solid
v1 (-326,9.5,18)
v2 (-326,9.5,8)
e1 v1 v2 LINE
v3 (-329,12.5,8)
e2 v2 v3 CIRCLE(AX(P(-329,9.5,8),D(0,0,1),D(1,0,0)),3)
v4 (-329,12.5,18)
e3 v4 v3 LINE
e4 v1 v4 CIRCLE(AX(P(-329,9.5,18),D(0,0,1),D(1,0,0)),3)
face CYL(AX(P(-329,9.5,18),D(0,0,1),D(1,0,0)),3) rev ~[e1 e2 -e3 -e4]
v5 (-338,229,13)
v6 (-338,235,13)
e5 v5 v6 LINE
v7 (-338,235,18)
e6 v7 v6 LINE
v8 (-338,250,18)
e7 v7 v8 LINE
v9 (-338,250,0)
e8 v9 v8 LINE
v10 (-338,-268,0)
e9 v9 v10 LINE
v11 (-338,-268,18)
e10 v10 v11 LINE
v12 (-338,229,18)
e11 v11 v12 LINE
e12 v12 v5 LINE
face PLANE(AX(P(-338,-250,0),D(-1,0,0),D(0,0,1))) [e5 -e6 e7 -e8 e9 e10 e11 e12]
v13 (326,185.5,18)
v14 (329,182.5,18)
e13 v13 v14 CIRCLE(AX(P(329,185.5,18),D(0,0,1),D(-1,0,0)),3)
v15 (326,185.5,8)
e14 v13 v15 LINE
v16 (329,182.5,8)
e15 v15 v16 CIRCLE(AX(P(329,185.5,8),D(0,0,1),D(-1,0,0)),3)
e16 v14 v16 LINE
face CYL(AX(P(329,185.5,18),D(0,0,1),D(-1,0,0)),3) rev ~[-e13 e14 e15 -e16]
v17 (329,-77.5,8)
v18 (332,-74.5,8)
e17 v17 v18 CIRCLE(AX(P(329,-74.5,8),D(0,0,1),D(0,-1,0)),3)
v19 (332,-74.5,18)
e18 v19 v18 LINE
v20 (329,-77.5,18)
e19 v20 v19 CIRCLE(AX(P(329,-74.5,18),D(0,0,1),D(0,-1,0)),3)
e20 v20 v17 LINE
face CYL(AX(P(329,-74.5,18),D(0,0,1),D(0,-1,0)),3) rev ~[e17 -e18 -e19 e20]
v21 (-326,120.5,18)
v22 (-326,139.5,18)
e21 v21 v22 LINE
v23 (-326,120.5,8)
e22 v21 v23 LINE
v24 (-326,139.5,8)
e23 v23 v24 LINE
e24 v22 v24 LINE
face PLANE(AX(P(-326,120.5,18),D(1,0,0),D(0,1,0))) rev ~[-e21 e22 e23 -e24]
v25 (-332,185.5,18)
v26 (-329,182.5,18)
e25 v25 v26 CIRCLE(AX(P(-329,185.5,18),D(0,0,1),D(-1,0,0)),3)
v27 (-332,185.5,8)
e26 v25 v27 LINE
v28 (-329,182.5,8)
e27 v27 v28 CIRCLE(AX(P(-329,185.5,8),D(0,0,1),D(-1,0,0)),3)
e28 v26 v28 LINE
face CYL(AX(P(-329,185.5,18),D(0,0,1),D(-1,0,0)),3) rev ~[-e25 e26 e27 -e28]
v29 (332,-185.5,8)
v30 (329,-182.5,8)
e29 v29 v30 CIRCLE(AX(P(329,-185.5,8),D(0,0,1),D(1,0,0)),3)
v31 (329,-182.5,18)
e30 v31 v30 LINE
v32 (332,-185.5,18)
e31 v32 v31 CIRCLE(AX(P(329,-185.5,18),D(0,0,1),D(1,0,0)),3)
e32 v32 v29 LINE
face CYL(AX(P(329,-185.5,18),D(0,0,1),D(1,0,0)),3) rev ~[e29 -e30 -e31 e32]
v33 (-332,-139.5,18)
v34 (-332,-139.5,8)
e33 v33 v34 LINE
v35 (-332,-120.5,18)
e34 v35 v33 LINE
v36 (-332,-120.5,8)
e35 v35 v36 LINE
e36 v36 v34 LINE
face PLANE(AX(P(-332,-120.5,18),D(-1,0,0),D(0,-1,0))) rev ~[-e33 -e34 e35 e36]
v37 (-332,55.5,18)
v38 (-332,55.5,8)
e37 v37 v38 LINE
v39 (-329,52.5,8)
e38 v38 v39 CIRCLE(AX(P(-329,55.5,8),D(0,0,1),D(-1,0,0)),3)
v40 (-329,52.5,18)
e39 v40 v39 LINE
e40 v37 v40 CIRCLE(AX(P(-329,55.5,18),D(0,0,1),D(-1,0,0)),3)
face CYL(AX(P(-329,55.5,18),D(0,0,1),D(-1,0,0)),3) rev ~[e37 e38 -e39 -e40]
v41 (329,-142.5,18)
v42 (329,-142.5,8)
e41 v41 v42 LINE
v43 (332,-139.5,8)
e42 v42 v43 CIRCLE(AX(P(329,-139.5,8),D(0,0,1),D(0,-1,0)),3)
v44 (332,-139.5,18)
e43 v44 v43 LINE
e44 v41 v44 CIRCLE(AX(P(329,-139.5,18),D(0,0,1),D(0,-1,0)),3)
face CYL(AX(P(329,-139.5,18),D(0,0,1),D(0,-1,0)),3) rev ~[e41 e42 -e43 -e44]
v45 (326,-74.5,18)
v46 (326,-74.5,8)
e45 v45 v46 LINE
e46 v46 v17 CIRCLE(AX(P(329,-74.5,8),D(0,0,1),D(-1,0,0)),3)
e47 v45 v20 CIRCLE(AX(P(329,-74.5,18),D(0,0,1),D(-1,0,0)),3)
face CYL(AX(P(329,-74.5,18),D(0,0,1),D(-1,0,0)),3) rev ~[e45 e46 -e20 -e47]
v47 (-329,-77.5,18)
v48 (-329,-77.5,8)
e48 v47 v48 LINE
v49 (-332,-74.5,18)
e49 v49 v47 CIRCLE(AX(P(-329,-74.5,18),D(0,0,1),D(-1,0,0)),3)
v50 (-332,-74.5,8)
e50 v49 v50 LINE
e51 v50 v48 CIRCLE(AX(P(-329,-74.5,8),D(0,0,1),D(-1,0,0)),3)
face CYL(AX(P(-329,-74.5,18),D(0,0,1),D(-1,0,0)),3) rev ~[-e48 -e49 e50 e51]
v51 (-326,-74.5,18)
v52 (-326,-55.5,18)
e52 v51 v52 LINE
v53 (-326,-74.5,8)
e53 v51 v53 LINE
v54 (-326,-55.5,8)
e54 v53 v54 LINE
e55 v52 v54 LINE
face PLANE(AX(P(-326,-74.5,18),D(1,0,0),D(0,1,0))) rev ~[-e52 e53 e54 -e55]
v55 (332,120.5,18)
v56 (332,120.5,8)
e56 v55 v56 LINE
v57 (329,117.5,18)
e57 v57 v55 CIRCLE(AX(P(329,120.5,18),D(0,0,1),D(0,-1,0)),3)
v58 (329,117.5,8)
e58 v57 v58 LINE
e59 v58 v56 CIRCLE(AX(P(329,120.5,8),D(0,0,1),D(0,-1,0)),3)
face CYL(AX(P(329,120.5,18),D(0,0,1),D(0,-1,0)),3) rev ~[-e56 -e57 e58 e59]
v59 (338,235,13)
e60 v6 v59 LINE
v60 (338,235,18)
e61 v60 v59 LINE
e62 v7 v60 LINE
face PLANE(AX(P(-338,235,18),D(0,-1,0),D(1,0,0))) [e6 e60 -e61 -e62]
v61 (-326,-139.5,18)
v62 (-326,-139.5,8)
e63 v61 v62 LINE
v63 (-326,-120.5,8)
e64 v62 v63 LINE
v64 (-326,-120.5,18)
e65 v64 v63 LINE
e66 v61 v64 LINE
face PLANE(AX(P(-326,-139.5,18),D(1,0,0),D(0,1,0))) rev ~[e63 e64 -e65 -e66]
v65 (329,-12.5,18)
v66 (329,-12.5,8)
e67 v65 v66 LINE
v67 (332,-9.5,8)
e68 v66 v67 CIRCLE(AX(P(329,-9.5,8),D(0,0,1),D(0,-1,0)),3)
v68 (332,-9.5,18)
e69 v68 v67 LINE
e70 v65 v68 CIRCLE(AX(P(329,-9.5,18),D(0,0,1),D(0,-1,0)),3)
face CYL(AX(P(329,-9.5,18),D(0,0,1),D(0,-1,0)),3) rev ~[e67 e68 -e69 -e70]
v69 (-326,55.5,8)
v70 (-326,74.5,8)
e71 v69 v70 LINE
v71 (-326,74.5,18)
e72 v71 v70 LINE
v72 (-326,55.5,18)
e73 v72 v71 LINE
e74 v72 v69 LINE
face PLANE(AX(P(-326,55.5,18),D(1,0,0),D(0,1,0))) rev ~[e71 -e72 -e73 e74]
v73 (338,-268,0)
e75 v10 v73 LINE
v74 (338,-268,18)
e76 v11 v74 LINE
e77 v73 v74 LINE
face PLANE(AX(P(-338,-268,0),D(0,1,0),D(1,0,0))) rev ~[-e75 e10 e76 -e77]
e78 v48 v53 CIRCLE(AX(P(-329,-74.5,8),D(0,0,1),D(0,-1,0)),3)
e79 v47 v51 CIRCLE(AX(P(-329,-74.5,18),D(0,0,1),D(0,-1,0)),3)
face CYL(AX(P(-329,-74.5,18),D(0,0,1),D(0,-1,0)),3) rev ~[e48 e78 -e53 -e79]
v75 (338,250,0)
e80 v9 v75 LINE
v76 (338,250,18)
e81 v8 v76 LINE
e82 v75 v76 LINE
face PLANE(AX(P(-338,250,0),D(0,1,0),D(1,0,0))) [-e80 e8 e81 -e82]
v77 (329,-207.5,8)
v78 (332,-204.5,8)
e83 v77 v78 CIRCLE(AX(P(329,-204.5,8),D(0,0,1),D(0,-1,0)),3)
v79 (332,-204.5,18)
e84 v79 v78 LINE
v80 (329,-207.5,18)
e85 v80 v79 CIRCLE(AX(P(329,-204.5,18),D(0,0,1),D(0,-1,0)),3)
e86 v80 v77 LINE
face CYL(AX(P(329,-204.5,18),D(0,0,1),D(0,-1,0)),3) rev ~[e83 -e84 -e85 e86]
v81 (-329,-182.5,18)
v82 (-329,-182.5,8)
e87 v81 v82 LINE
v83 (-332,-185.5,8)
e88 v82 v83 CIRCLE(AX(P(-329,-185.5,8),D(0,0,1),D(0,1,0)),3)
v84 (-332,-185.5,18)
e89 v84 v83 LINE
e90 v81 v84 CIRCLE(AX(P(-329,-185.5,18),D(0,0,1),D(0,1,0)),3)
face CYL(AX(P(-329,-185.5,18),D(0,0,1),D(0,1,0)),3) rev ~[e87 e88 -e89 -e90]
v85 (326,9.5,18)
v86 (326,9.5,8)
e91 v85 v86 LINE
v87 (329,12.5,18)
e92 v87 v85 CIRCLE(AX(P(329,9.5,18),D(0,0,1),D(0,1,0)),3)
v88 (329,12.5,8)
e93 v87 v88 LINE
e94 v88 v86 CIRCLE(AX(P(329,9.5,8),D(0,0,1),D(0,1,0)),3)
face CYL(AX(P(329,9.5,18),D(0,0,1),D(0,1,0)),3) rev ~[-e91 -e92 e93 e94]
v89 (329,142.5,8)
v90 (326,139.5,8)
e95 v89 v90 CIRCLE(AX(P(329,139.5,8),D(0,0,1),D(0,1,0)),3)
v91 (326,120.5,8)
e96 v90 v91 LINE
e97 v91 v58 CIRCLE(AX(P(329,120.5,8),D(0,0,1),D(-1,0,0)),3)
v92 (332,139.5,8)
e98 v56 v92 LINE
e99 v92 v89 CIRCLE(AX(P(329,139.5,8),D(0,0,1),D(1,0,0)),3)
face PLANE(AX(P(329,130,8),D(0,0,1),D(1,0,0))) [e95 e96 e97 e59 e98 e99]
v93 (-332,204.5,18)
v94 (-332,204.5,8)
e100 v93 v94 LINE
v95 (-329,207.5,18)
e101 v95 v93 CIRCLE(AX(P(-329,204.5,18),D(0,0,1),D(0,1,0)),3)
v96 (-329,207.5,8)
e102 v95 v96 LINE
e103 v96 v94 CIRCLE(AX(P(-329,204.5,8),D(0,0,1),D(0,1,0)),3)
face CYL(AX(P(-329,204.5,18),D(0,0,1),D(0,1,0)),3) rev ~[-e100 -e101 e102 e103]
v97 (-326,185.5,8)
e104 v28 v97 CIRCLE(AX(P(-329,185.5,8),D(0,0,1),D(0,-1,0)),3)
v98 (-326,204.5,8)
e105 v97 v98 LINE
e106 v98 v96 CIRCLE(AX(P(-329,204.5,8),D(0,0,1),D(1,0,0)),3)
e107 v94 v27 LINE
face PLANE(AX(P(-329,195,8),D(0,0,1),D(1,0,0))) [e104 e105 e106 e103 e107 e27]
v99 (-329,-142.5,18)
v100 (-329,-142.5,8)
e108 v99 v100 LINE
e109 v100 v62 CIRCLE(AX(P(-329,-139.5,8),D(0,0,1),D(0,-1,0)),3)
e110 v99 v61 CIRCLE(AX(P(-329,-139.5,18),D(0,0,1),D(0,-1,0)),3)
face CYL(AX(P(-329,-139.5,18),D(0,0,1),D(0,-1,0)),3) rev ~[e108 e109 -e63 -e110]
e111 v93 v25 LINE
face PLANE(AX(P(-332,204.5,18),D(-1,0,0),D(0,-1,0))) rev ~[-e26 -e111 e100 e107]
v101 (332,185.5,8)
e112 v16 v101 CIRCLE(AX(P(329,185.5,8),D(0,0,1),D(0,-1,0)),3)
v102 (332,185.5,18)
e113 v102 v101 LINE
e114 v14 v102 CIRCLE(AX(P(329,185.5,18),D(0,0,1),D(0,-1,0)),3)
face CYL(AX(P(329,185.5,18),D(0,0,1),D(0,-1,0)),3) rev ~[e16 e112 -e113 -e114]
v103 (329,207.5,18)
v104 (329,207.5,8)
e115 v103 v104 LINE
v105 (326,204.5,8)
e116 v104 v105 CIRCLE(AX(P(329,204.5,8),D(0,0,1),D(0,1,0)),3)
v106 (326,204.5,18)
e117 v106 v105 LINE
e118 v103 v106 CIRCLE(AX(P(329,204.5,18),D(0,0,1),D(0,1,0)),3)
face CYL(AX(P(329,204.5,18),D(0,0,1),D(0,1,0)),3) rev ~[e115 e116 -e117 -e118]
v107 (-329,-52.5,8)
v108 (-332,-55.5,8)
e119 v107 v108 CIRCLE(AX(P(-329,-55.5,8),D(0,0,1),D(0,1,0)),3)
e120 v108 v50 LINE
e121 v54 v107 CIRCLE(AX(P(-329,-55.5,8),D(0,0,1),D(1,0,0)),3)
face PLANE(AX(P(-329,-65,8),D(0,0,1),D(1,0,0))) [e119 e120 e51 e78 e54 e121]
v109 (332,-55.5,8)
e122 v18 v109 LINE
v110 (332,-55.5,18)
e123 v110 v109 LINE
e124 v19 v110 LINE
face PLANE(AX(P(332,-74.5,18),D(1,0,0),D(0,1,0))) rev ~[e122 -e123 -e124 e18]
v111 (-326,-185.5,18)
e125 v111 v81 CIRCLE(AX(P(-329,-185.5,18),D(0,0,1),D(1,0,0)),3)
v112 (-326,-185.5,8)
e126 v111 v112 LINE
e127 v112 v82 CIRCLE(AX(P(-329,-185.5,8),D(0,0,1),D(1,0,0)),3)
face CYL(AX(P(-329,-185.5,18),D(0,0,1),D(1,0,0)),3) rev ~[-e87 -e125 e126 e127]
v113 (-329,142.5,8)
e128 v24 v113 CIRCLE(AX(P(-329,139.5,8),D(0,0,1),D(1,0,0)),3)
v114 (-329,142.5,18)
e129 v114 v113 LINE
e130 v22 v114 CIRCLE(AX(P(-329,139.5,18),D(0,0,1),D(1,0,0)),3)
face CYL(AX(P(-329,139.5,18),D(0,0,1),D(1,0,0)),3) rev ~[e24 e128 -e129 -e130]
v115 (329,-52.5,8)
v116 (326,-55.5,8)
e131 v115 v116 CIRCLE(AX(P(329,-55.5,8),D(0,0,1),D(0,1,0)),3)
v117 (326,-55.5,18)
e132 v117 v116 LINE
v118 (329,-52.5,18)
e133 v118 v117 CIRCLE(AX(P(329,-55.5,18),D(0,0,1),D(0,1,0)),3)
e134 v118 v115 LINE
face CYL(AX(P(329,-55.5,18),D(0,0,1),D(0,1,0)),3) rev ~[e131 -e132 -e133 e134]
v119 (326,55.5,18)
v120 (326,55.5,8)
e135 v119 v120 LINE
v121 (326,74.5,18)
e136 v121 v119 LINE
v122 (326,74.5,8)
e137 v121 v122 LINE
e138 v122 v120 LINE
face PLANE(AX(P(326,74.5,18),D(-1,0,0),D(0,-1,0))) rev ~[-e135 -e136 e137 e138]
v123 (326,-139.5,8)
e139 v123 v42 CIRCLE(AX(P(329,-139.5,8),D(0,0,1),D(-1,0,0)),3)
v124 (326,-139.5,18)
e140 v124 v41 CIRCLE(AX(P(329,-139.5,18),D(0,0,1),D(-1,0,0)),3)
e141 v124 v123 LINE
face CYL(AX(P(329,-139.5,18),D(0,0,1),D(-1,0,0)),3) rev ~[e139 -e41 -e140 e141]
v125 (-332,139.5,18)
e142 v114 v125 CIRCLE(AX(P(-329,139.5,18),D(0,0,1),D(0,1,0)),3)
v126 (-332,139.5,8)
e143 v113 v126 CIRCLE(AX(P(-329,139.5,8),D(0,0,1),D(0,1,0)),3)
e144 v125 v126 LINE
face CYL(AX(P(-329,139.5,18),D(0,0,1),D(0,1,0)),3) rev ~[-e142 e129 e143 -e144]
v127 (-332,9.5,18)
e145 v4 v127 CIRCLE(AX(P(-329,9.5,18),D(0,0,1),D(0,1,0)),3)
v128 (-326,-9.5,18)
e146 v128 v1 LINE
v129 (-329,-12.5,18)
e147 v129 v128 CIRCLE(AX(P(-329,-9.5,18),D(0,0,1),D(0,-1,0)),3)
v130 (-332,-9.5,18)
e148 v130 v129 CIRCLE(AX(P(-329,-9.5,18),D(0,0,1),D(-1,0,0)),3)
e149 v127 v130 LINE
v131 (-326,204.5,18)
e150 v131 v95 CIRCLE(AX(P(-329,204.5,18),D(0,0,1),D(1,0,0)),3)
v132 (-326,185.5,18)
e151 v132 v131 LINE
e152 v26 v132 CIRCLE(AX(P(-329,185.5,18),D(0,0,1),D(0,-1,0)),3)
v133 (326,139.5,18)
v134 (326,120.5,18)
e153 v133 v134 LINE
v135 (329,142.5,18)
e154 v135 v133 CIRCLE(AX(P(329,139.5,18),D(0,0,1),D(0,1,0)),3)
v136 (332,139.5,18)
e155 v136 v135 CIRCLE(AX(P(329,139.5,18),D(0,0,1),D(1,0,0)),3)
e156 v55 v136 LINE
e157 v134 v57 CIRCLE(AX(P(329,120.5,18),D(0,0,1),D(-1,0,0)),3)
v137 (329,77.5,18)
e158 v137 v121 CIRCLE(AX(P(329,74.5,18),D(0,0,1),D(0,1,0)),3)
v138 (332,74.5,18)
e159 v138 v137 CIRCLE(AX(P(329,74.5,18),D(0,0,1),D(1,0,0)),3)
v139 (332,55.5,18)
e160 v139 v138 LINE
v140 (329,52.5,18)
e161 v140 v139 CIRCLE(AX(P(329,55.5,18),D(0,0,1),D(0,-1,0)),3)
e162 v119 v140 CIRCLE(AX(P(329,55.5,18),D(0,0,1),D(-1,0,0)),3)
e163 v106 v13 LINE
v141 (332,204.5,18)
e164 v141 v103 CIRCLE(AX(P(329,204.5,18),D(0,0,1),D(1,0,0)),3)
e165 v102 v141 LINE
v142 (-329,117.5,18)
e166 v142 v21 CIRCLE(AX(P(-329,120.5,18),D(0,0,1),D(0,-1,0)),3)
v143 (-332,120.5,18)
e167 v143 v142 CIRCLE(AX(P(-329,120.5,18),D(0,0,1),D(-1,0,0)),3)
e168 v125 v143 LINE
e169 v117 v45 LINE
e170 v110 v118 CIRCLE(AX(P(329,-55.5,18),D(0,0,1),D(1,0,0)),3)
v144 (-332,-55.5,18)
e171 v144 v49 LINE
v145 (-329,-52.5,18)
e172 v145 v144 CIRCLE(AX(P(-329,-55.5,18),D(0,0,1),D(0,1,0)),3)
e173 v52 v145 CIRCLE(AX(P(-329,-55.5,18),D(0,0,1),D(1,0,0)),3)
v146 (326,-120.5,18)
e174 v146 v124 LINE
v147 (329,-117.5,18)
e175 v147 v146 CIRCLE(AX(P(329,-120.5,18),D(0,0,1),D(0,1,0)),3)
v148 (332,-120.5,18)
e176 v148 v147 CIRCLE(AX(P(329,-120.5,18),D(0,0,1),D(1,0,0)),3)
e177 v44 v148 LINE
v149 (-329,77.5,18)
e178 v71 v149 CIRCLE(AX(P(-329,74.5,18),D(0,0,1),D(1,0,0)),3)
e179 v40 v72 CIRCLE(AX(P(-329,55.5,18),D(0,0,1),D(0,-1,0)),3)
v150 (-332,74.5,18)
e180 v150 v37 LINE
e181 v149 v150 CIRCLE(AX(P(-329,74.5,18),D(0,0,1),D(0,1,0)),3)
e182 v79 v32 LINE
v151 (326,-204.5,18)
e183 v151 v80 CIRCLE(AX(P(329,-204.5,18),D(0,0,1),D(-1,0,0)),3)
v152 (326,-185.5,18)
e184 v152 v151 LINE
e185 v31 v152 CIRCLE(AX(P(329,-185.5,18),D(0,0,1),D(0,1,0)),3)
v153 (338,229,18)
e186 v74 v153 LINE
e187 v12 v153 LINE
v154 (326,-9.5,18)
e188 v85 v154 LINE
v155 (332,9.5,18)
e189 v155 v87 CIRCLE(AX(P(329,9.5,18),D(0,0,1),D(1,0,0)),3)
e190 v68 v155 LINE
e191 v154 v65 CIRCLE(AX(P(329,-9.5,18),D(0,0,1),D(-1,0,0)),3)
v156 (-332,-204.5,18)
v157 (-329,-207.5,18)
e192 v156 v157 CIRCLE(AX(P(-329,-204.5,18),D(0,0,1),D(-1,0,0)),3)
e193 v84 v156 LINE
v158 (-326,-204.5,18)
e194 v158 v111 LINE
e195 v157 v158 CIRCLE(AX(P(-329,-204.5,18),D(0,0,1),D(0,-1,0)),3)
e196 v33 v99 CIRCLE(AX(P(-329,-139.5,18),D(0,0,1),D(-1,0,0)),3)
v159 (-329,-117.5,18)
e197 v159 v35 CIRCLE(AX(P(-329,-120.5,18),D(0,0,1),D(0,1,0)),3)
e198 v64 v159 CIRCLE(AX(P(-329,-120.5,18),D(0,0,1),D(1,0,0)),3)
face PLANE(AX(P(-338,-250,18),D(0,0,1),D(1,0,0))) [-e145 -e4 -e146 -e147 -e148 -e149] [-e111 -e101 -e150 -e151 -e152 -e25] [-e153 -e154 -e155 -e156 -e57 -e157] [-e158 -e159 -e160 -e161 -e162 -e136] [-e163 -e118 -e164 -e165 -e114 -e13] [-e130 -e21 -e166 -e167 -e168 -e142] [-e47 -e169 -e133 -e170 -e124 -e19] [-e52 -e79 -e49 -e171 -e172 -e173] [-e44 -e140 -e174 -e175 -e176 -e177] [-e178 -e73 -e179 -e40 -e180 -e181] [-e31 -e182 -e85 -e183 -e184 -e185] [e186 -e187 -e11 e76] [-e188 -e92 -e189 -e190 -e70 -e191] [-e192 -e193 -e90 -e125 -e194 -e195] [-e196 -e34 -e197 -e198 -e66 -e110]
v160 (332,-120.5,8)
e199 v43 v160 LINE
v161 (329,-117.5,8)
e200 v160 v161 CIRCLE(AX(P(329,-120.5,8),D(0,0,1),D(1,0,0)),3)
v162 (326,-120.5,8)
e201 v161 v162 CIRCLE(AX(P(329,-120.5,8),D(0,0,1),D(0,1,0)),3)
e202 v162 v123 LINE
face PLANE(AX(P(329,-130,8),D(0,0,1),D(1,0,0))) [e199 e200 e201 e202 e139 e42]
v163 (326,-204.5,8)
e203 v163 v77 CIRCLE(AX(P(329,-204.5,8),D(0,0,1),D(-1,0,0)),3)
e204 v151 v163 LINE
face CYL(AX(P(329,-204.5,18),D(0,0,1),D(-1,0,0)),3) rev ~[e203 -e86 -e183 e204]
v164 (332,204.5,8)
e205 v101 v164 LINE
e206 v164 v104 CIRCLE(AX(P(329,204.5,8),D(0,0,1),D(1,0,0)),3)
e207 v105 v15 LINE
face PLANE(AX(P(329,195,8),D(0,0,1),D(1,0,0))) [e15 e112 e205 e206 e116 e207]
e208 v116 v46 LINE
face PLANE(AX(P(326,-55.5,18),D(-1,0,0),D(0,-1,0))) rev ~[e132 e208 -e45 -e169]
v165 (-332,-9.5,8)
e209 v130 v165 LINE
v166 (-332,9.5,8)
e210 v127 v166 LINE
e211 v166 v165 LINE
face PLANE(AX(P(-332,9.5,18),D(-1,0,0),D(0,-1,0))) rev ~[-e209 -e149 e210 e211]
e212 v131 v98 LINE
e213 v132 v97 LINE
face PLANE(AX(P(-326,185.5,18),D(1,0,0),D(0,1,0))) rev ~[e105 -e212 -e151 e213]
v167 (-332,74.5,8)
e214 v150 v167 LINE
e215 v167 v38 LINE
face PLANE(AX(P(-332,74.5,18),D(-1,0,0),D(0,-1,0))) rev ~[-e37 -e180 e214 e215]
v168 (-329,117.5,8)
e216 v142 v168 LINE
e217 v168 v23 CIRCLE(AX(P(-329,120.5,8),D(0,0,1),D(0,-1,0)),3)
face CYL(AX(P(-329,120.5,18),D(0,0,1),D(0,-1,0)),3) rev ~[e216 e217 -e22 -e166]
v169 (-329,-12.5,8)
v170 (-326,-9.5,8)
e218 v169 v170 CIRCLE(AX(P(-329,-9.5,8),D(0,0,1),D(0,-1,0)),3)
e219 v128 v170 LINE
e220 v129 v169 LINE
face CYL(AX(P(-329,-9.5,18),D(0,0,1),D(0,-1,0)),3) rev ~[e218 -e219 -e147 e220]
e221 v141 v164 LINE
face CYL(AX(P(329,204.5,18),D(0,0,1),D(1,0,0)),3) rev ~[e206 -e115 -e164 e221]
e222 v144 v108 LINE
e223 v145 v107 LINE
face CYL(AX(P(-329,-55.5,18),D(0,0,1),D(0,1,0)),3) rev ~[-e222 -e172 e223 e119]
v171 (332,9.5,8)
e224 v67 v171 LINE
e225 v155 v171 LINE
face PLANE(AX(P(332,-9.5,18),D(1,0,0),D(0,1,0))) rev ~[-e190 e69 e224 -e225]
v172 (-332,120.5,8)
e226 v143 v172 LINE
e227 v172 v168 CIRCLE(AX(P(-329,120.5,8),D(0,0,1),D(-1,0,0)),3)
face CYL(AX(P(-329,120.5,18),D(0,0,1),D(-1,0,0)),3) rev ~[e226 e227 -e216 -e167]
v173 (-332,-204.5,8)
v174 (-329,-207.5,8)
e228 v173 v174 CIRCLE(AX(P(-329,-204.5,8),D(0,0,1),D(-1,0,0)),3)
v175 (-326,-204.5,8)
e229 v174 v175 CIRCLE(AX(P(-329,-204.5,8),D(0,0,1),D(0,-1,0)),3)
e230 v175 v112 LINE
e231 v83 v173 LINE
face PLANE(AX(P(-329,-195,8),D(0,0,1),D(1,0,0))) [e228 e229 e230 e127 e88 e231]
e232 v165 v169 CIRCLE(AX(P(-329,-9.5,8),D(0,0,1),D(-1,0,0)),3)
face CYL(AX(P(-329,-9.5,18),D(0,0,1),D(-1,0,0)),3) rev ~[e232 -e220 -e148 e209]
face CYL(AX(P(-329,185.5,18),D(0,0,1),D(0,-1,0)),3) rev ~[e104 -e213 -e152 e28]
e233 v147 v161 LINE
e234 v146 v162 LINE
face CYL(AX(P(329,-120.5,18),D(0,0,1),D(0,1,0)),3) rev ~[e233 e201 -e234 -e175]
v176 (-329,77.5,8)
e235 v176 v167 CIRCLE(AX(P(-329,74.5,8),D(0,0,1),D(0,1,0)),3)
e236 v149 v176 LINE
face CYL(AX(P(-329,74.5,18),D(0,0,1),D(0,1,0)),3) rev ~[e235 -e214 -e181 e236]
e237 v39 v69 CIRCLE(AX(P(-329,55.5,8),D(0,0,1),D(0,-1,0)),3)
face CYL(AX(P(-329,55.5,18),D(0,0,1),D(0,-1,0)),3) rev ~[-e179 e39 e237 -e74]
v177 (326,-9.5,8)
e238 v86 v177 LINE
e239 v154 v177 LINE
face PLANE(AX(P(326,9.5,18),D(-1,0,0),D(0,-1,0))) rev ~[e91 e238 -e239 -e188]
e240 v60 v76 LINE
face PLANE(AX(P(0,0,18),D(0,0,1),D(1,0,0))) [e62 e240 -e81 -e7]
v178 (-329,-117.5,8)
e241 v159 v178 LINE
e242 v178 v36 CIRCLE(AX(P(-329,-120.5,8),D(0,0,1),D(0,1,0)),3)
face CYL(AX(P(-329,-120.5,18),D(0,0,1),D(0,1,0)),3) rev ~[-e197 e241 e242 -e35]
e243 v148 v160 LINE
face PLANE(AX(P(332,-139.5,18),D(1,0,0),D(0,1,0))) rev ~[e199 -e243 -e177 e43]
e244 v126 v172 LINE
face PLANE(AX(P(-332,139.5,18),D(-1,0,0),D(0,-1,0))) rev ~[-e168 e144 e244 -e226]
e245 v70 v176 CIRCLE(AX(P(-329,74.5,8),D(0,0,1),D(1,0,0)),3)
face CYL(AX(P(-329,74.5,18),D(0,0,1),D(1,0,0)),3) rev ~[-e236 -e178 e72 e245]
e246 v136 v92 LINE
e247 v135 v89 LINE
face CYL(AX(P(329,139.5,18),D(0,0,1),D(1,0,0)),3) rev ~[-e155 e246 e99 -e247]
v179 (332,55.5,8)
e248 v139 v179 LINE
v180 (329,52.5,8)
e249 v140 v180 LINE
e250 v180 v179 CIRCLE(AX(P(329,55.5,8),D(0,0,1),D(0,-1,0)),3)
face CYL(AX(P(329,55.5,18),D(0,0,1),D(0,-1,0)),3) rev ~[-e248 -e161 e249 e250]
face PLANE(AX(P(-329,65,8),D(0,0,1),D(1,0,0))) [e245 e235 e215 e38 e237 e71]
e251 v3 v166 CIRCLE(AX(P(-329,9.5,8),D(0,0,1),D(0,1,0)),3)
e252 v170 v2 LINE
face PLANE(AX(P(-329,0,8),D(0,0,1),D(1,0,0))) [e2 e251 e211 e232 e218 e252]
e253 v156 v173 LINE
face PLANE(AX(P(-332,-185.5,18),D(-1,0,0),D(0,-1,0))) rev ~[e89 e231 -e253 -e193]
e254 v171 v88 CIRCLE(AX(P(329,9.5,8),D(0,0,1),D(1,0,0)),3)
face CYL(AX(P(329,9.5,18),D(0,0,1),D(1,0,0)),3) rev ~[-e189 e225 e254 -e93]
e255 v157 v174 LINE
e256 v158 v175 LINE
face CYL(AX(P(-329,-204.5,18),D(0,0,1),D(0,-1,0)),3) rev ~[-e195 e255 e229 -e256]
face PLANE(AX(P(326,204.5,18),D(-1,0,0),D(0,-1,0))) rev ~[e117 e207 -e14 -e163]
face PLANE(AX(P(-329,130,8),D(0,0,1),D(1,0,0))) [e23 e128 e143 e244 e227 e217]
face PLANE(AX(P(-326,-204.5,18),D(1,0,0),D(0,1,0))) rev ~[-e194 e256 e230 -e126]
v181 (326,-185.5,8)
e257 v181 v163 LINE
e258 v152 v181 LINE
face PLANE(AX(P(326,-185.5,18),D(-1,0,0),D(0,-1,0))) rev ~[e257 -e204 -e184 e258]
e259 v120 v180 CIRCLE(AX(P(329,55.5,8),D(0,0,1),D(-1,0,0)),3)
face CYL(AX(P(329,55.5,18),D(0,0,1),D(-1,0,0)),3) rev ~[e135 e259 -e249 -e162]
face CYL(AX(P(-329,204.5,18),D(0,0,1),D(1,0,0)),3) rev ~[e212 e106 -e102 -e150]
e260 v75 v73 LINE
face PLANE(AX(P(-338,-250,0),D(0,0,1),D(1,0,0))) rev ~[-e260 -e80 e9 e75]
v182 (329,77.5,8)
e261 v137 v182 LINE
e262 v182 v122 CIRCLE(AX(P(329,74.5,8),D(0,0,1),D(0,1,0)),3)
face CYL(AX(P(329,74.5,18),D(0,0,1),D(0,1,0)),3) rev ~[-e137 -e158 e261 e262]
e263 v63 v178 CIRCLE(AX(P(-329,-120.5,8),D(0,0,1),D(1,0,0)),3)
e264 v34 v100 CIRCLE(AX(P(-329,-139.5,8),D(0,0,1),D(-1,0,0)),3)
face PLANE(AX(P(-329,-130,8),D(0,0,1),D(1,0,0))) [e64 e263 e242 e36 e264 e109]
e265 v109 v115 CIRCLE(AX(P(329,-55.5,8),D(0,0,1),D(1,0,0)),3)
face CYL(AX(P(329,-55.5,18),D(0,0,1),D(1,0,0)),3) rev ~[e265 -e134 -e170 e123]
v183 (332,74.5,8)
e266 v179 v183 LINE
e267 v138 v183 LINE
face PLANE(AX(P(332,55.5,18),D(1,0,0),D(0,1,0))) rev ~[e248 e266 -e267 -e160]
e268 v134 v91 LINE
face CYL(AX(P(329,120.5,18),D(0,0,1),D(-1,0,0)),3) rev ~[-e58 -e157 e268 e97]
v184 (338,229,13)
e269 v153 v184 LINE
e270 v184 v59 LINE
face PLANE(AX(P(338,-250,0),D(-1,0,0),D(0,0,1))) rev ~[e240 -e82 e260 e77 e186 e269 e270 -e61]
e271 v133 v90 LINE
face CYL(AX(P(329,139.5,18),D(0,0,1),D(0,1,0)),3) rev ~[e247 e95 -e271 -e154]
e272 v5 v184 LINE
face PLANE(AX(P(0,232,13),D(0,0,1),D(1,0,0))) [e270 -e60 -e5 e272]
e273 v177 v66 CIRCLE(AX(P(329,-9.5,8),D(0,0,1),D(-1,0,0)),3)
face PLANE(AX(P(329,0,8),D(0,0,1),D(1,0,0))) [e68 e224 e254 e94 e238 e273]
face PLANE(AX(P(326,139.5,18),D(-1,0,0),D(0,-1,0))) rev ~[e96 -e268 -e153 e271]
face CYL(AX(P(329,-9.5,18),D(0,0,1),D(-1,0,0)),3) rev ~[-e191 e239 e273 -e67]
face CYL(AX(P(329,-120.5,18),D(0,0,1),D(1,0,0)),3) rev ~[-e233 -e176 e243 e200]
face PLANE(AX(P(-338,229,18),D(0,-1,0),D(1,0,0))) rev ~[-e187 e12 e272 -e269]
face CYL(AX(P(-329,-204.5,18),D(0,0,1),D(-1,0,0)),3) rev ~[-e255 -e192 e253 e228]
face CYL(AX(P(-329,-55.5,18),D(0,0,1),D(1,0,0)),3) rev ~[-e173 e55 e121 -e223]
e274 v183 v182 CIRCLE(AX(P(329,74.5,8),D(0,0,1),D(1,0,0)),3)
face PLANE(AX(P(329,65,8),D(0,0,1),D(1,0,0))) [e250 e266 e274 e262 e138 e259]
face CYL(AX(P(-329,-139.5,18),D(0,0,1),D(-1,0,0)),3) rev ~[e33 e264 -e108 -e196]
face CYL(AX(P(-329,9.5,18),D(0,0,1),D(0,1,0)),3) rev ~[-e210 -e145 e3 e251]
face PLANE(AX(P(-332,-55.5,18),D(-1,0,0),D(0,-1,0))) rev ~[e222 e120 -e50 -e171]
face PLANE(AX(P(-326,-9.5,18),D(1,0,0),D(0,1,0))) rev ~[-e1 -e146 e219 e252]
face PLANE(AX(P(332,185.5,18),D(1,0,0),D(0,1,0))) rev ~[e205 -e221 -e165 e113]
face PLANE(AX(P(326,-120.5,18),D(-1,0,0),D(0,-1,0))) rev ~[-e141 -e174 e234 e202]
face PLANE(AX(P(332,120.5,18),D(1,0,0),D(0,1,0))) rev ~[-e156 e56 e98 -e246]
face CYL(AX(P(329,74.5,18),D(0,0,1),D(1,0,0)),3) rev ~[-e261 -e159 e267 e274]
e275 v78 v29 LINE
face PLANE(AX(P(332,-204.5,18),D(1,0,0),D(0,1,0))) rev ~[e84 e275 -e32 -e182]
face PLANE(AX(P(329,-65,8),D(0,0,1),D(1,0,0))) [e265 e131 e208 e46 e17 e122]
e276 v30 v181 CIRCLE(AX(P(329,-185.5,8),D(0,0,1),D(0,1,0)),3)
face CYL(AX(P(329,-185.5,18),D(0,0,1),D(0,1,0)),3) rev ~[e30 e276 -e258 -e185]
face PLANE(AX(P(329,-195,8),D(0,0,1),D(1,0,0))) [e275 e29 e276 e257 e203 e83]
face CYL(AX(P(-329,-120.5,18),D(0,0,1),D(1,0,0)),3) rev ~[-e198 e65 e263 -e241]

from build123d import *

# Parameters (mm, degrees)
F0_W     = 676
F0_H     = 500
F1_DEPTH = 18
F2_W     = 676
F2_H     = 6
F3_DEPTH = 5
F5_DEPTH = 10
F6_DEPTH = 18


with BuildPart() as f1:
    # F0 (on Top) → F1 (new body)
    with BuildSketch(Plane.XY):
        Rectangle(F0_W, F0_H)
    extrude(amount=F1_DEPTH)

    # F2 (on face) → F3 (cut)
    with BuildSketch(Plane.XY.offset(18)):
        with Locations((0, 232)):
            Rectangle(F2_W, F2_H)
    extrude(amount=-F3_DEPTH, mode=Mode.SUBTRACT)

    # F4 (on face) → F5 (cut)
    with BuildSketch(Plane.XY.offset(18)):
        with BuildLine():
            Line((326, -185.5), (326, -204.5))
            ThreePointArc((326, -204.5), (326.8786796564, -206.6213203436), (329, -207.5))
            ThreePointArc((329, -207.5), (331.1213203436, -206.6213203436), (332, -204.5))
            Line((332, -204.5), (332, -185.5))
            ThreePointArc((332, -185.5), (331.1213203436, -183.3786796564), (329, -182.5))
            ThreePointArc((329, -182.5), (326.8786796564, -183.3786796564), (326, -185.5))
        make_face()
        with BuildLine():
            ThreePointArc((332, -120.5), (331.1213203436, -118.3786796564), (329, -117.5))
            ThreePointArc((329, -117.5), (326.8786796564, -118.3786796564), (326, -120.5))
            Line((326, -120.5), (326, -139.5))
            ThreePointArc((326, -139.5), (326.8786796564, -141.6213203436), (329, -142.5))
            ThreePointArc((329, -142.5), (331.1213203436, -141.6213203436), (332, -139.5))
            Line((332, -139.5), (332, -120.5))
        make_face()
        with BuildLine():
            ThreePointArc((326, -74.5), (326.8786796564, -76.6213203436), (329, -77.5))
            ThreePointArc((329, -77.5), (331.1213203436, -76.6213203436), (332, -74.5))
            Line((332, -74.5), (332, -55.5))
            ThreePointArc((332, -55.5), (331.1213203436, -53.3786796564), (329, -52.5))
            ThreePointArc((329, -52.5), (326.8786796564, -53.3786796564), (326, -55.5))
            Line((326, -55.5), (326, -74.5))
        make_face()
        with BuildLine():
            Line((332, -9.5), (332, 9.5))
            ThreePointArc((332, 9.5), (331.1213203436, 11.6213203436), (329, 12.5))
            ThreePointArc((329, 12.5), (326.8786796564, 11.6213203436), (326, 9.5))
            Line((326, 9.5), (326, -9.5))
            ThreePointArc((326, -9.5), (326.8786796564, -11.6213203436), (329, -12.5))
            ThreePointArc((329, -12.5), (331.1213203436, -11.6213203436), (332, -9.5))
        make_face()
        with BuildLine():
            ThreePointArc((329, 77.5), (326.8786796564, 76.6213203436), (326, 74.5))
            Line((326, 74.5), (326, 55.5))
            ThreePointArc((326, 55.5), (326.8786796564, 53.3786796564), (329, 52.5))
            ThreePointArc((329, 52.5), (331.1213203436, 53.3786796564), (332, 55.5))
            Line((332, 55.5), (332, 74.5))
            ThreePointArc((332, 74.5), (331.1213203436, 76.6213203436), (329, 77.5))
        make_face()
        with BuildLine():
            ThreePointArc((329, 142.5), (326.8786796564, 141.6213203436), (326, 139.5))
            Line((326, 139.5), (326, 120.5))
            ThreePointArc((326, 120.5), (326.8786796564, 118.3786796564), (329, 117.5))
            ThreePointArc((329, 117.5), (331.1213203436, 118.3786796564), (332, 120.5))
            Line((332, 120.5), (332, 139.5))
            ThreePointArc((332, 139.5), (331.1213203436, 141.6213203436), (329, 142.5))
        make_face()
        with BuildLine():
            ThreePointArc((329, 207.5), (326.8786796564, 206.6213203436), (326, 204.5))
            Line((326, 204.5), (326, 185.5))
            ThreePointArc((326, 185.5), (326.8786796564, 183.3786796564), (329, 182.5))
            ThreePointArc((329, 182.5), (331.1213203436, 183.3786796564), (332, 185.5))
            Line((332, 185.5), (332, 204.5))
            ThreePointArc((332, 204.5), (331.1213203436, 206.6213203436), (329, 207.5))
        make_face()
        with BuildLine():
            ThreePointArc((-329, -207.5), (-326.8786796564, -206.6213203436), (-326, -204.5))
            Line((-326, -204.5), (-326, -185.5))
            ThreePointArc((-326, -185.5), (-326.8786796564, -183.3786796564), (-329, -182.5))
            ThreePointArc((-329, -182.5), (-331.1213203436, -183.3786796564), (-332, -185.5))
            Line((-332, -185.5), (-332, -204.5))
            ThreePointArc((-332, -204.5), (-331.1213203436, -206.6213203436), (-329, -207.5))
        make_face()
        with BuildLine():
            ThreePointArc((-326, -120.5), (-326.8786796564, -118.3786796564), (-329, -117.5))
            ThreePointArc((-329, -117.5), (-331.1213203436, -118.3786796564), (-332, -120.5))
            Line((-332, -120.5), (-332, -139.5))
            ThreePointArc((-332, -139.5), (-331.1213203436, -141.6213203436), (-329, -142.5))
            ThreePointArc((-329, -142.5), (-326.8786796564, -141.6213203436), (-326, -139.5))
            Line((-326, -139.5), (-326, -120.5))
        make_face()
        with BuildLine():
            Line((-326, -74.5), (-326, -55.5))
            ThreePointArc((-326, -55.5), (-326.8786796564, -53.3786796564), (-329, -52.5))
            ThreePointArc((-329, -52.5), (-331.1213203436, -53.3786796564), (-332, -55.5))
            Line((-332, -55.5), (-332, -74.5))
            ThreePointArc((-332, -74.5), (-331.1213203436, -76.6213203436), (-329, -77.5))
            ThreePointArc((-329, -77.5), (-326.8786796564, -76.6213203436), (-326, -74.5))
        make_face()
        with BuildLine():
            ThreePointArc((-332, -9.5), (-331.1213203436, -11.6213203436), (-329, -12.5))
            ThreePointArc((-329, -12.5), (-326.8786796564, -11.6213203436), (-326, -9.5))
            Line((-326, -9.5), (-326, 9.5))
            ThreePointArc((-326, 9.5), (-326.8786796564, 11.6213203436), (-329, 12.5))
            ThreePointArc((-329, 12.5), (-331.1213203436, 11.6213203436), (-332, 9.5))
            Line((-332, 9.5), (-332, -9.5))
        make_face()
        with BuildLine():
            ThreePointArc((-326, 74.5), (-326.8786796564, 76.6213203436), (-329, 77.5))
            ThreePointArc((-329, 77.5), (-331.1213203436, 76.6213203436), (-332, 74.5))
            Line((-332, 74.5), (-332, 55.5))
            ThreePointArc((-332, 55.5), (-331.1213203436, 53.3786796564), (-329, 52.5))
            ThreePointArc((-329, 52.5), (-326.8786796564, 53.3786796564), (-326, 55.5))
            Line((-326, 55.5), (-326, 74.5))
        make_face()
        with BuildLine():
            ThreePointArc((-329, 142.5), (-331.1213203436, 141.6213203436), (-332, 139.5))
            Line((-332, 139.5), (-332, 120.5))
            ThreePointArc((-332, 120.5), (-331.1213203436, 118.3786796564), (-329, 117.5))
            ThreePointArc((-329, 117.5), (-326.8786796564, 118.3786796564), (-326, 120.5))
            Line((-326, 120.5), (-326, 139.5))
            ThreePointArc((-326, 139.5), (-326.8786796564, 141.6213203436), (-329, 142.5))
        make_face()
        with BuildLine():
            ThreePointArc((-329, 207.5), (-331.1213203436, 206.6213203436), (-332, 204.5))
            Line((-332, 204.5), (-332, 185.5))
            ThreePointArc((-332, 185.5), (-331.1213203436, 183.3786796564), (-329, 182.5))
            ThreePointArc((-329, 182.5), (-326.8786796564, 183.3786796564), (-326, 185.5))
            Line((-326, 185.5), (-326, 204.5))
            ThreePointArc((-326, 204.5), (-326.8786796564, 206.6213203436), (-329, 207.5))
        make_face()
    extrude(amount=-F5_DEPTH, mode=Mode.SUBTRACT)

    # F6 (add): a face of the model
    f6_faces = [f1.faces().sort_by_distance(p)[0] for p in [
        (0, -250, 9),
    ]]
    extrude(f6_faces, amount=F6_DEPTH)


solid = f1.part
